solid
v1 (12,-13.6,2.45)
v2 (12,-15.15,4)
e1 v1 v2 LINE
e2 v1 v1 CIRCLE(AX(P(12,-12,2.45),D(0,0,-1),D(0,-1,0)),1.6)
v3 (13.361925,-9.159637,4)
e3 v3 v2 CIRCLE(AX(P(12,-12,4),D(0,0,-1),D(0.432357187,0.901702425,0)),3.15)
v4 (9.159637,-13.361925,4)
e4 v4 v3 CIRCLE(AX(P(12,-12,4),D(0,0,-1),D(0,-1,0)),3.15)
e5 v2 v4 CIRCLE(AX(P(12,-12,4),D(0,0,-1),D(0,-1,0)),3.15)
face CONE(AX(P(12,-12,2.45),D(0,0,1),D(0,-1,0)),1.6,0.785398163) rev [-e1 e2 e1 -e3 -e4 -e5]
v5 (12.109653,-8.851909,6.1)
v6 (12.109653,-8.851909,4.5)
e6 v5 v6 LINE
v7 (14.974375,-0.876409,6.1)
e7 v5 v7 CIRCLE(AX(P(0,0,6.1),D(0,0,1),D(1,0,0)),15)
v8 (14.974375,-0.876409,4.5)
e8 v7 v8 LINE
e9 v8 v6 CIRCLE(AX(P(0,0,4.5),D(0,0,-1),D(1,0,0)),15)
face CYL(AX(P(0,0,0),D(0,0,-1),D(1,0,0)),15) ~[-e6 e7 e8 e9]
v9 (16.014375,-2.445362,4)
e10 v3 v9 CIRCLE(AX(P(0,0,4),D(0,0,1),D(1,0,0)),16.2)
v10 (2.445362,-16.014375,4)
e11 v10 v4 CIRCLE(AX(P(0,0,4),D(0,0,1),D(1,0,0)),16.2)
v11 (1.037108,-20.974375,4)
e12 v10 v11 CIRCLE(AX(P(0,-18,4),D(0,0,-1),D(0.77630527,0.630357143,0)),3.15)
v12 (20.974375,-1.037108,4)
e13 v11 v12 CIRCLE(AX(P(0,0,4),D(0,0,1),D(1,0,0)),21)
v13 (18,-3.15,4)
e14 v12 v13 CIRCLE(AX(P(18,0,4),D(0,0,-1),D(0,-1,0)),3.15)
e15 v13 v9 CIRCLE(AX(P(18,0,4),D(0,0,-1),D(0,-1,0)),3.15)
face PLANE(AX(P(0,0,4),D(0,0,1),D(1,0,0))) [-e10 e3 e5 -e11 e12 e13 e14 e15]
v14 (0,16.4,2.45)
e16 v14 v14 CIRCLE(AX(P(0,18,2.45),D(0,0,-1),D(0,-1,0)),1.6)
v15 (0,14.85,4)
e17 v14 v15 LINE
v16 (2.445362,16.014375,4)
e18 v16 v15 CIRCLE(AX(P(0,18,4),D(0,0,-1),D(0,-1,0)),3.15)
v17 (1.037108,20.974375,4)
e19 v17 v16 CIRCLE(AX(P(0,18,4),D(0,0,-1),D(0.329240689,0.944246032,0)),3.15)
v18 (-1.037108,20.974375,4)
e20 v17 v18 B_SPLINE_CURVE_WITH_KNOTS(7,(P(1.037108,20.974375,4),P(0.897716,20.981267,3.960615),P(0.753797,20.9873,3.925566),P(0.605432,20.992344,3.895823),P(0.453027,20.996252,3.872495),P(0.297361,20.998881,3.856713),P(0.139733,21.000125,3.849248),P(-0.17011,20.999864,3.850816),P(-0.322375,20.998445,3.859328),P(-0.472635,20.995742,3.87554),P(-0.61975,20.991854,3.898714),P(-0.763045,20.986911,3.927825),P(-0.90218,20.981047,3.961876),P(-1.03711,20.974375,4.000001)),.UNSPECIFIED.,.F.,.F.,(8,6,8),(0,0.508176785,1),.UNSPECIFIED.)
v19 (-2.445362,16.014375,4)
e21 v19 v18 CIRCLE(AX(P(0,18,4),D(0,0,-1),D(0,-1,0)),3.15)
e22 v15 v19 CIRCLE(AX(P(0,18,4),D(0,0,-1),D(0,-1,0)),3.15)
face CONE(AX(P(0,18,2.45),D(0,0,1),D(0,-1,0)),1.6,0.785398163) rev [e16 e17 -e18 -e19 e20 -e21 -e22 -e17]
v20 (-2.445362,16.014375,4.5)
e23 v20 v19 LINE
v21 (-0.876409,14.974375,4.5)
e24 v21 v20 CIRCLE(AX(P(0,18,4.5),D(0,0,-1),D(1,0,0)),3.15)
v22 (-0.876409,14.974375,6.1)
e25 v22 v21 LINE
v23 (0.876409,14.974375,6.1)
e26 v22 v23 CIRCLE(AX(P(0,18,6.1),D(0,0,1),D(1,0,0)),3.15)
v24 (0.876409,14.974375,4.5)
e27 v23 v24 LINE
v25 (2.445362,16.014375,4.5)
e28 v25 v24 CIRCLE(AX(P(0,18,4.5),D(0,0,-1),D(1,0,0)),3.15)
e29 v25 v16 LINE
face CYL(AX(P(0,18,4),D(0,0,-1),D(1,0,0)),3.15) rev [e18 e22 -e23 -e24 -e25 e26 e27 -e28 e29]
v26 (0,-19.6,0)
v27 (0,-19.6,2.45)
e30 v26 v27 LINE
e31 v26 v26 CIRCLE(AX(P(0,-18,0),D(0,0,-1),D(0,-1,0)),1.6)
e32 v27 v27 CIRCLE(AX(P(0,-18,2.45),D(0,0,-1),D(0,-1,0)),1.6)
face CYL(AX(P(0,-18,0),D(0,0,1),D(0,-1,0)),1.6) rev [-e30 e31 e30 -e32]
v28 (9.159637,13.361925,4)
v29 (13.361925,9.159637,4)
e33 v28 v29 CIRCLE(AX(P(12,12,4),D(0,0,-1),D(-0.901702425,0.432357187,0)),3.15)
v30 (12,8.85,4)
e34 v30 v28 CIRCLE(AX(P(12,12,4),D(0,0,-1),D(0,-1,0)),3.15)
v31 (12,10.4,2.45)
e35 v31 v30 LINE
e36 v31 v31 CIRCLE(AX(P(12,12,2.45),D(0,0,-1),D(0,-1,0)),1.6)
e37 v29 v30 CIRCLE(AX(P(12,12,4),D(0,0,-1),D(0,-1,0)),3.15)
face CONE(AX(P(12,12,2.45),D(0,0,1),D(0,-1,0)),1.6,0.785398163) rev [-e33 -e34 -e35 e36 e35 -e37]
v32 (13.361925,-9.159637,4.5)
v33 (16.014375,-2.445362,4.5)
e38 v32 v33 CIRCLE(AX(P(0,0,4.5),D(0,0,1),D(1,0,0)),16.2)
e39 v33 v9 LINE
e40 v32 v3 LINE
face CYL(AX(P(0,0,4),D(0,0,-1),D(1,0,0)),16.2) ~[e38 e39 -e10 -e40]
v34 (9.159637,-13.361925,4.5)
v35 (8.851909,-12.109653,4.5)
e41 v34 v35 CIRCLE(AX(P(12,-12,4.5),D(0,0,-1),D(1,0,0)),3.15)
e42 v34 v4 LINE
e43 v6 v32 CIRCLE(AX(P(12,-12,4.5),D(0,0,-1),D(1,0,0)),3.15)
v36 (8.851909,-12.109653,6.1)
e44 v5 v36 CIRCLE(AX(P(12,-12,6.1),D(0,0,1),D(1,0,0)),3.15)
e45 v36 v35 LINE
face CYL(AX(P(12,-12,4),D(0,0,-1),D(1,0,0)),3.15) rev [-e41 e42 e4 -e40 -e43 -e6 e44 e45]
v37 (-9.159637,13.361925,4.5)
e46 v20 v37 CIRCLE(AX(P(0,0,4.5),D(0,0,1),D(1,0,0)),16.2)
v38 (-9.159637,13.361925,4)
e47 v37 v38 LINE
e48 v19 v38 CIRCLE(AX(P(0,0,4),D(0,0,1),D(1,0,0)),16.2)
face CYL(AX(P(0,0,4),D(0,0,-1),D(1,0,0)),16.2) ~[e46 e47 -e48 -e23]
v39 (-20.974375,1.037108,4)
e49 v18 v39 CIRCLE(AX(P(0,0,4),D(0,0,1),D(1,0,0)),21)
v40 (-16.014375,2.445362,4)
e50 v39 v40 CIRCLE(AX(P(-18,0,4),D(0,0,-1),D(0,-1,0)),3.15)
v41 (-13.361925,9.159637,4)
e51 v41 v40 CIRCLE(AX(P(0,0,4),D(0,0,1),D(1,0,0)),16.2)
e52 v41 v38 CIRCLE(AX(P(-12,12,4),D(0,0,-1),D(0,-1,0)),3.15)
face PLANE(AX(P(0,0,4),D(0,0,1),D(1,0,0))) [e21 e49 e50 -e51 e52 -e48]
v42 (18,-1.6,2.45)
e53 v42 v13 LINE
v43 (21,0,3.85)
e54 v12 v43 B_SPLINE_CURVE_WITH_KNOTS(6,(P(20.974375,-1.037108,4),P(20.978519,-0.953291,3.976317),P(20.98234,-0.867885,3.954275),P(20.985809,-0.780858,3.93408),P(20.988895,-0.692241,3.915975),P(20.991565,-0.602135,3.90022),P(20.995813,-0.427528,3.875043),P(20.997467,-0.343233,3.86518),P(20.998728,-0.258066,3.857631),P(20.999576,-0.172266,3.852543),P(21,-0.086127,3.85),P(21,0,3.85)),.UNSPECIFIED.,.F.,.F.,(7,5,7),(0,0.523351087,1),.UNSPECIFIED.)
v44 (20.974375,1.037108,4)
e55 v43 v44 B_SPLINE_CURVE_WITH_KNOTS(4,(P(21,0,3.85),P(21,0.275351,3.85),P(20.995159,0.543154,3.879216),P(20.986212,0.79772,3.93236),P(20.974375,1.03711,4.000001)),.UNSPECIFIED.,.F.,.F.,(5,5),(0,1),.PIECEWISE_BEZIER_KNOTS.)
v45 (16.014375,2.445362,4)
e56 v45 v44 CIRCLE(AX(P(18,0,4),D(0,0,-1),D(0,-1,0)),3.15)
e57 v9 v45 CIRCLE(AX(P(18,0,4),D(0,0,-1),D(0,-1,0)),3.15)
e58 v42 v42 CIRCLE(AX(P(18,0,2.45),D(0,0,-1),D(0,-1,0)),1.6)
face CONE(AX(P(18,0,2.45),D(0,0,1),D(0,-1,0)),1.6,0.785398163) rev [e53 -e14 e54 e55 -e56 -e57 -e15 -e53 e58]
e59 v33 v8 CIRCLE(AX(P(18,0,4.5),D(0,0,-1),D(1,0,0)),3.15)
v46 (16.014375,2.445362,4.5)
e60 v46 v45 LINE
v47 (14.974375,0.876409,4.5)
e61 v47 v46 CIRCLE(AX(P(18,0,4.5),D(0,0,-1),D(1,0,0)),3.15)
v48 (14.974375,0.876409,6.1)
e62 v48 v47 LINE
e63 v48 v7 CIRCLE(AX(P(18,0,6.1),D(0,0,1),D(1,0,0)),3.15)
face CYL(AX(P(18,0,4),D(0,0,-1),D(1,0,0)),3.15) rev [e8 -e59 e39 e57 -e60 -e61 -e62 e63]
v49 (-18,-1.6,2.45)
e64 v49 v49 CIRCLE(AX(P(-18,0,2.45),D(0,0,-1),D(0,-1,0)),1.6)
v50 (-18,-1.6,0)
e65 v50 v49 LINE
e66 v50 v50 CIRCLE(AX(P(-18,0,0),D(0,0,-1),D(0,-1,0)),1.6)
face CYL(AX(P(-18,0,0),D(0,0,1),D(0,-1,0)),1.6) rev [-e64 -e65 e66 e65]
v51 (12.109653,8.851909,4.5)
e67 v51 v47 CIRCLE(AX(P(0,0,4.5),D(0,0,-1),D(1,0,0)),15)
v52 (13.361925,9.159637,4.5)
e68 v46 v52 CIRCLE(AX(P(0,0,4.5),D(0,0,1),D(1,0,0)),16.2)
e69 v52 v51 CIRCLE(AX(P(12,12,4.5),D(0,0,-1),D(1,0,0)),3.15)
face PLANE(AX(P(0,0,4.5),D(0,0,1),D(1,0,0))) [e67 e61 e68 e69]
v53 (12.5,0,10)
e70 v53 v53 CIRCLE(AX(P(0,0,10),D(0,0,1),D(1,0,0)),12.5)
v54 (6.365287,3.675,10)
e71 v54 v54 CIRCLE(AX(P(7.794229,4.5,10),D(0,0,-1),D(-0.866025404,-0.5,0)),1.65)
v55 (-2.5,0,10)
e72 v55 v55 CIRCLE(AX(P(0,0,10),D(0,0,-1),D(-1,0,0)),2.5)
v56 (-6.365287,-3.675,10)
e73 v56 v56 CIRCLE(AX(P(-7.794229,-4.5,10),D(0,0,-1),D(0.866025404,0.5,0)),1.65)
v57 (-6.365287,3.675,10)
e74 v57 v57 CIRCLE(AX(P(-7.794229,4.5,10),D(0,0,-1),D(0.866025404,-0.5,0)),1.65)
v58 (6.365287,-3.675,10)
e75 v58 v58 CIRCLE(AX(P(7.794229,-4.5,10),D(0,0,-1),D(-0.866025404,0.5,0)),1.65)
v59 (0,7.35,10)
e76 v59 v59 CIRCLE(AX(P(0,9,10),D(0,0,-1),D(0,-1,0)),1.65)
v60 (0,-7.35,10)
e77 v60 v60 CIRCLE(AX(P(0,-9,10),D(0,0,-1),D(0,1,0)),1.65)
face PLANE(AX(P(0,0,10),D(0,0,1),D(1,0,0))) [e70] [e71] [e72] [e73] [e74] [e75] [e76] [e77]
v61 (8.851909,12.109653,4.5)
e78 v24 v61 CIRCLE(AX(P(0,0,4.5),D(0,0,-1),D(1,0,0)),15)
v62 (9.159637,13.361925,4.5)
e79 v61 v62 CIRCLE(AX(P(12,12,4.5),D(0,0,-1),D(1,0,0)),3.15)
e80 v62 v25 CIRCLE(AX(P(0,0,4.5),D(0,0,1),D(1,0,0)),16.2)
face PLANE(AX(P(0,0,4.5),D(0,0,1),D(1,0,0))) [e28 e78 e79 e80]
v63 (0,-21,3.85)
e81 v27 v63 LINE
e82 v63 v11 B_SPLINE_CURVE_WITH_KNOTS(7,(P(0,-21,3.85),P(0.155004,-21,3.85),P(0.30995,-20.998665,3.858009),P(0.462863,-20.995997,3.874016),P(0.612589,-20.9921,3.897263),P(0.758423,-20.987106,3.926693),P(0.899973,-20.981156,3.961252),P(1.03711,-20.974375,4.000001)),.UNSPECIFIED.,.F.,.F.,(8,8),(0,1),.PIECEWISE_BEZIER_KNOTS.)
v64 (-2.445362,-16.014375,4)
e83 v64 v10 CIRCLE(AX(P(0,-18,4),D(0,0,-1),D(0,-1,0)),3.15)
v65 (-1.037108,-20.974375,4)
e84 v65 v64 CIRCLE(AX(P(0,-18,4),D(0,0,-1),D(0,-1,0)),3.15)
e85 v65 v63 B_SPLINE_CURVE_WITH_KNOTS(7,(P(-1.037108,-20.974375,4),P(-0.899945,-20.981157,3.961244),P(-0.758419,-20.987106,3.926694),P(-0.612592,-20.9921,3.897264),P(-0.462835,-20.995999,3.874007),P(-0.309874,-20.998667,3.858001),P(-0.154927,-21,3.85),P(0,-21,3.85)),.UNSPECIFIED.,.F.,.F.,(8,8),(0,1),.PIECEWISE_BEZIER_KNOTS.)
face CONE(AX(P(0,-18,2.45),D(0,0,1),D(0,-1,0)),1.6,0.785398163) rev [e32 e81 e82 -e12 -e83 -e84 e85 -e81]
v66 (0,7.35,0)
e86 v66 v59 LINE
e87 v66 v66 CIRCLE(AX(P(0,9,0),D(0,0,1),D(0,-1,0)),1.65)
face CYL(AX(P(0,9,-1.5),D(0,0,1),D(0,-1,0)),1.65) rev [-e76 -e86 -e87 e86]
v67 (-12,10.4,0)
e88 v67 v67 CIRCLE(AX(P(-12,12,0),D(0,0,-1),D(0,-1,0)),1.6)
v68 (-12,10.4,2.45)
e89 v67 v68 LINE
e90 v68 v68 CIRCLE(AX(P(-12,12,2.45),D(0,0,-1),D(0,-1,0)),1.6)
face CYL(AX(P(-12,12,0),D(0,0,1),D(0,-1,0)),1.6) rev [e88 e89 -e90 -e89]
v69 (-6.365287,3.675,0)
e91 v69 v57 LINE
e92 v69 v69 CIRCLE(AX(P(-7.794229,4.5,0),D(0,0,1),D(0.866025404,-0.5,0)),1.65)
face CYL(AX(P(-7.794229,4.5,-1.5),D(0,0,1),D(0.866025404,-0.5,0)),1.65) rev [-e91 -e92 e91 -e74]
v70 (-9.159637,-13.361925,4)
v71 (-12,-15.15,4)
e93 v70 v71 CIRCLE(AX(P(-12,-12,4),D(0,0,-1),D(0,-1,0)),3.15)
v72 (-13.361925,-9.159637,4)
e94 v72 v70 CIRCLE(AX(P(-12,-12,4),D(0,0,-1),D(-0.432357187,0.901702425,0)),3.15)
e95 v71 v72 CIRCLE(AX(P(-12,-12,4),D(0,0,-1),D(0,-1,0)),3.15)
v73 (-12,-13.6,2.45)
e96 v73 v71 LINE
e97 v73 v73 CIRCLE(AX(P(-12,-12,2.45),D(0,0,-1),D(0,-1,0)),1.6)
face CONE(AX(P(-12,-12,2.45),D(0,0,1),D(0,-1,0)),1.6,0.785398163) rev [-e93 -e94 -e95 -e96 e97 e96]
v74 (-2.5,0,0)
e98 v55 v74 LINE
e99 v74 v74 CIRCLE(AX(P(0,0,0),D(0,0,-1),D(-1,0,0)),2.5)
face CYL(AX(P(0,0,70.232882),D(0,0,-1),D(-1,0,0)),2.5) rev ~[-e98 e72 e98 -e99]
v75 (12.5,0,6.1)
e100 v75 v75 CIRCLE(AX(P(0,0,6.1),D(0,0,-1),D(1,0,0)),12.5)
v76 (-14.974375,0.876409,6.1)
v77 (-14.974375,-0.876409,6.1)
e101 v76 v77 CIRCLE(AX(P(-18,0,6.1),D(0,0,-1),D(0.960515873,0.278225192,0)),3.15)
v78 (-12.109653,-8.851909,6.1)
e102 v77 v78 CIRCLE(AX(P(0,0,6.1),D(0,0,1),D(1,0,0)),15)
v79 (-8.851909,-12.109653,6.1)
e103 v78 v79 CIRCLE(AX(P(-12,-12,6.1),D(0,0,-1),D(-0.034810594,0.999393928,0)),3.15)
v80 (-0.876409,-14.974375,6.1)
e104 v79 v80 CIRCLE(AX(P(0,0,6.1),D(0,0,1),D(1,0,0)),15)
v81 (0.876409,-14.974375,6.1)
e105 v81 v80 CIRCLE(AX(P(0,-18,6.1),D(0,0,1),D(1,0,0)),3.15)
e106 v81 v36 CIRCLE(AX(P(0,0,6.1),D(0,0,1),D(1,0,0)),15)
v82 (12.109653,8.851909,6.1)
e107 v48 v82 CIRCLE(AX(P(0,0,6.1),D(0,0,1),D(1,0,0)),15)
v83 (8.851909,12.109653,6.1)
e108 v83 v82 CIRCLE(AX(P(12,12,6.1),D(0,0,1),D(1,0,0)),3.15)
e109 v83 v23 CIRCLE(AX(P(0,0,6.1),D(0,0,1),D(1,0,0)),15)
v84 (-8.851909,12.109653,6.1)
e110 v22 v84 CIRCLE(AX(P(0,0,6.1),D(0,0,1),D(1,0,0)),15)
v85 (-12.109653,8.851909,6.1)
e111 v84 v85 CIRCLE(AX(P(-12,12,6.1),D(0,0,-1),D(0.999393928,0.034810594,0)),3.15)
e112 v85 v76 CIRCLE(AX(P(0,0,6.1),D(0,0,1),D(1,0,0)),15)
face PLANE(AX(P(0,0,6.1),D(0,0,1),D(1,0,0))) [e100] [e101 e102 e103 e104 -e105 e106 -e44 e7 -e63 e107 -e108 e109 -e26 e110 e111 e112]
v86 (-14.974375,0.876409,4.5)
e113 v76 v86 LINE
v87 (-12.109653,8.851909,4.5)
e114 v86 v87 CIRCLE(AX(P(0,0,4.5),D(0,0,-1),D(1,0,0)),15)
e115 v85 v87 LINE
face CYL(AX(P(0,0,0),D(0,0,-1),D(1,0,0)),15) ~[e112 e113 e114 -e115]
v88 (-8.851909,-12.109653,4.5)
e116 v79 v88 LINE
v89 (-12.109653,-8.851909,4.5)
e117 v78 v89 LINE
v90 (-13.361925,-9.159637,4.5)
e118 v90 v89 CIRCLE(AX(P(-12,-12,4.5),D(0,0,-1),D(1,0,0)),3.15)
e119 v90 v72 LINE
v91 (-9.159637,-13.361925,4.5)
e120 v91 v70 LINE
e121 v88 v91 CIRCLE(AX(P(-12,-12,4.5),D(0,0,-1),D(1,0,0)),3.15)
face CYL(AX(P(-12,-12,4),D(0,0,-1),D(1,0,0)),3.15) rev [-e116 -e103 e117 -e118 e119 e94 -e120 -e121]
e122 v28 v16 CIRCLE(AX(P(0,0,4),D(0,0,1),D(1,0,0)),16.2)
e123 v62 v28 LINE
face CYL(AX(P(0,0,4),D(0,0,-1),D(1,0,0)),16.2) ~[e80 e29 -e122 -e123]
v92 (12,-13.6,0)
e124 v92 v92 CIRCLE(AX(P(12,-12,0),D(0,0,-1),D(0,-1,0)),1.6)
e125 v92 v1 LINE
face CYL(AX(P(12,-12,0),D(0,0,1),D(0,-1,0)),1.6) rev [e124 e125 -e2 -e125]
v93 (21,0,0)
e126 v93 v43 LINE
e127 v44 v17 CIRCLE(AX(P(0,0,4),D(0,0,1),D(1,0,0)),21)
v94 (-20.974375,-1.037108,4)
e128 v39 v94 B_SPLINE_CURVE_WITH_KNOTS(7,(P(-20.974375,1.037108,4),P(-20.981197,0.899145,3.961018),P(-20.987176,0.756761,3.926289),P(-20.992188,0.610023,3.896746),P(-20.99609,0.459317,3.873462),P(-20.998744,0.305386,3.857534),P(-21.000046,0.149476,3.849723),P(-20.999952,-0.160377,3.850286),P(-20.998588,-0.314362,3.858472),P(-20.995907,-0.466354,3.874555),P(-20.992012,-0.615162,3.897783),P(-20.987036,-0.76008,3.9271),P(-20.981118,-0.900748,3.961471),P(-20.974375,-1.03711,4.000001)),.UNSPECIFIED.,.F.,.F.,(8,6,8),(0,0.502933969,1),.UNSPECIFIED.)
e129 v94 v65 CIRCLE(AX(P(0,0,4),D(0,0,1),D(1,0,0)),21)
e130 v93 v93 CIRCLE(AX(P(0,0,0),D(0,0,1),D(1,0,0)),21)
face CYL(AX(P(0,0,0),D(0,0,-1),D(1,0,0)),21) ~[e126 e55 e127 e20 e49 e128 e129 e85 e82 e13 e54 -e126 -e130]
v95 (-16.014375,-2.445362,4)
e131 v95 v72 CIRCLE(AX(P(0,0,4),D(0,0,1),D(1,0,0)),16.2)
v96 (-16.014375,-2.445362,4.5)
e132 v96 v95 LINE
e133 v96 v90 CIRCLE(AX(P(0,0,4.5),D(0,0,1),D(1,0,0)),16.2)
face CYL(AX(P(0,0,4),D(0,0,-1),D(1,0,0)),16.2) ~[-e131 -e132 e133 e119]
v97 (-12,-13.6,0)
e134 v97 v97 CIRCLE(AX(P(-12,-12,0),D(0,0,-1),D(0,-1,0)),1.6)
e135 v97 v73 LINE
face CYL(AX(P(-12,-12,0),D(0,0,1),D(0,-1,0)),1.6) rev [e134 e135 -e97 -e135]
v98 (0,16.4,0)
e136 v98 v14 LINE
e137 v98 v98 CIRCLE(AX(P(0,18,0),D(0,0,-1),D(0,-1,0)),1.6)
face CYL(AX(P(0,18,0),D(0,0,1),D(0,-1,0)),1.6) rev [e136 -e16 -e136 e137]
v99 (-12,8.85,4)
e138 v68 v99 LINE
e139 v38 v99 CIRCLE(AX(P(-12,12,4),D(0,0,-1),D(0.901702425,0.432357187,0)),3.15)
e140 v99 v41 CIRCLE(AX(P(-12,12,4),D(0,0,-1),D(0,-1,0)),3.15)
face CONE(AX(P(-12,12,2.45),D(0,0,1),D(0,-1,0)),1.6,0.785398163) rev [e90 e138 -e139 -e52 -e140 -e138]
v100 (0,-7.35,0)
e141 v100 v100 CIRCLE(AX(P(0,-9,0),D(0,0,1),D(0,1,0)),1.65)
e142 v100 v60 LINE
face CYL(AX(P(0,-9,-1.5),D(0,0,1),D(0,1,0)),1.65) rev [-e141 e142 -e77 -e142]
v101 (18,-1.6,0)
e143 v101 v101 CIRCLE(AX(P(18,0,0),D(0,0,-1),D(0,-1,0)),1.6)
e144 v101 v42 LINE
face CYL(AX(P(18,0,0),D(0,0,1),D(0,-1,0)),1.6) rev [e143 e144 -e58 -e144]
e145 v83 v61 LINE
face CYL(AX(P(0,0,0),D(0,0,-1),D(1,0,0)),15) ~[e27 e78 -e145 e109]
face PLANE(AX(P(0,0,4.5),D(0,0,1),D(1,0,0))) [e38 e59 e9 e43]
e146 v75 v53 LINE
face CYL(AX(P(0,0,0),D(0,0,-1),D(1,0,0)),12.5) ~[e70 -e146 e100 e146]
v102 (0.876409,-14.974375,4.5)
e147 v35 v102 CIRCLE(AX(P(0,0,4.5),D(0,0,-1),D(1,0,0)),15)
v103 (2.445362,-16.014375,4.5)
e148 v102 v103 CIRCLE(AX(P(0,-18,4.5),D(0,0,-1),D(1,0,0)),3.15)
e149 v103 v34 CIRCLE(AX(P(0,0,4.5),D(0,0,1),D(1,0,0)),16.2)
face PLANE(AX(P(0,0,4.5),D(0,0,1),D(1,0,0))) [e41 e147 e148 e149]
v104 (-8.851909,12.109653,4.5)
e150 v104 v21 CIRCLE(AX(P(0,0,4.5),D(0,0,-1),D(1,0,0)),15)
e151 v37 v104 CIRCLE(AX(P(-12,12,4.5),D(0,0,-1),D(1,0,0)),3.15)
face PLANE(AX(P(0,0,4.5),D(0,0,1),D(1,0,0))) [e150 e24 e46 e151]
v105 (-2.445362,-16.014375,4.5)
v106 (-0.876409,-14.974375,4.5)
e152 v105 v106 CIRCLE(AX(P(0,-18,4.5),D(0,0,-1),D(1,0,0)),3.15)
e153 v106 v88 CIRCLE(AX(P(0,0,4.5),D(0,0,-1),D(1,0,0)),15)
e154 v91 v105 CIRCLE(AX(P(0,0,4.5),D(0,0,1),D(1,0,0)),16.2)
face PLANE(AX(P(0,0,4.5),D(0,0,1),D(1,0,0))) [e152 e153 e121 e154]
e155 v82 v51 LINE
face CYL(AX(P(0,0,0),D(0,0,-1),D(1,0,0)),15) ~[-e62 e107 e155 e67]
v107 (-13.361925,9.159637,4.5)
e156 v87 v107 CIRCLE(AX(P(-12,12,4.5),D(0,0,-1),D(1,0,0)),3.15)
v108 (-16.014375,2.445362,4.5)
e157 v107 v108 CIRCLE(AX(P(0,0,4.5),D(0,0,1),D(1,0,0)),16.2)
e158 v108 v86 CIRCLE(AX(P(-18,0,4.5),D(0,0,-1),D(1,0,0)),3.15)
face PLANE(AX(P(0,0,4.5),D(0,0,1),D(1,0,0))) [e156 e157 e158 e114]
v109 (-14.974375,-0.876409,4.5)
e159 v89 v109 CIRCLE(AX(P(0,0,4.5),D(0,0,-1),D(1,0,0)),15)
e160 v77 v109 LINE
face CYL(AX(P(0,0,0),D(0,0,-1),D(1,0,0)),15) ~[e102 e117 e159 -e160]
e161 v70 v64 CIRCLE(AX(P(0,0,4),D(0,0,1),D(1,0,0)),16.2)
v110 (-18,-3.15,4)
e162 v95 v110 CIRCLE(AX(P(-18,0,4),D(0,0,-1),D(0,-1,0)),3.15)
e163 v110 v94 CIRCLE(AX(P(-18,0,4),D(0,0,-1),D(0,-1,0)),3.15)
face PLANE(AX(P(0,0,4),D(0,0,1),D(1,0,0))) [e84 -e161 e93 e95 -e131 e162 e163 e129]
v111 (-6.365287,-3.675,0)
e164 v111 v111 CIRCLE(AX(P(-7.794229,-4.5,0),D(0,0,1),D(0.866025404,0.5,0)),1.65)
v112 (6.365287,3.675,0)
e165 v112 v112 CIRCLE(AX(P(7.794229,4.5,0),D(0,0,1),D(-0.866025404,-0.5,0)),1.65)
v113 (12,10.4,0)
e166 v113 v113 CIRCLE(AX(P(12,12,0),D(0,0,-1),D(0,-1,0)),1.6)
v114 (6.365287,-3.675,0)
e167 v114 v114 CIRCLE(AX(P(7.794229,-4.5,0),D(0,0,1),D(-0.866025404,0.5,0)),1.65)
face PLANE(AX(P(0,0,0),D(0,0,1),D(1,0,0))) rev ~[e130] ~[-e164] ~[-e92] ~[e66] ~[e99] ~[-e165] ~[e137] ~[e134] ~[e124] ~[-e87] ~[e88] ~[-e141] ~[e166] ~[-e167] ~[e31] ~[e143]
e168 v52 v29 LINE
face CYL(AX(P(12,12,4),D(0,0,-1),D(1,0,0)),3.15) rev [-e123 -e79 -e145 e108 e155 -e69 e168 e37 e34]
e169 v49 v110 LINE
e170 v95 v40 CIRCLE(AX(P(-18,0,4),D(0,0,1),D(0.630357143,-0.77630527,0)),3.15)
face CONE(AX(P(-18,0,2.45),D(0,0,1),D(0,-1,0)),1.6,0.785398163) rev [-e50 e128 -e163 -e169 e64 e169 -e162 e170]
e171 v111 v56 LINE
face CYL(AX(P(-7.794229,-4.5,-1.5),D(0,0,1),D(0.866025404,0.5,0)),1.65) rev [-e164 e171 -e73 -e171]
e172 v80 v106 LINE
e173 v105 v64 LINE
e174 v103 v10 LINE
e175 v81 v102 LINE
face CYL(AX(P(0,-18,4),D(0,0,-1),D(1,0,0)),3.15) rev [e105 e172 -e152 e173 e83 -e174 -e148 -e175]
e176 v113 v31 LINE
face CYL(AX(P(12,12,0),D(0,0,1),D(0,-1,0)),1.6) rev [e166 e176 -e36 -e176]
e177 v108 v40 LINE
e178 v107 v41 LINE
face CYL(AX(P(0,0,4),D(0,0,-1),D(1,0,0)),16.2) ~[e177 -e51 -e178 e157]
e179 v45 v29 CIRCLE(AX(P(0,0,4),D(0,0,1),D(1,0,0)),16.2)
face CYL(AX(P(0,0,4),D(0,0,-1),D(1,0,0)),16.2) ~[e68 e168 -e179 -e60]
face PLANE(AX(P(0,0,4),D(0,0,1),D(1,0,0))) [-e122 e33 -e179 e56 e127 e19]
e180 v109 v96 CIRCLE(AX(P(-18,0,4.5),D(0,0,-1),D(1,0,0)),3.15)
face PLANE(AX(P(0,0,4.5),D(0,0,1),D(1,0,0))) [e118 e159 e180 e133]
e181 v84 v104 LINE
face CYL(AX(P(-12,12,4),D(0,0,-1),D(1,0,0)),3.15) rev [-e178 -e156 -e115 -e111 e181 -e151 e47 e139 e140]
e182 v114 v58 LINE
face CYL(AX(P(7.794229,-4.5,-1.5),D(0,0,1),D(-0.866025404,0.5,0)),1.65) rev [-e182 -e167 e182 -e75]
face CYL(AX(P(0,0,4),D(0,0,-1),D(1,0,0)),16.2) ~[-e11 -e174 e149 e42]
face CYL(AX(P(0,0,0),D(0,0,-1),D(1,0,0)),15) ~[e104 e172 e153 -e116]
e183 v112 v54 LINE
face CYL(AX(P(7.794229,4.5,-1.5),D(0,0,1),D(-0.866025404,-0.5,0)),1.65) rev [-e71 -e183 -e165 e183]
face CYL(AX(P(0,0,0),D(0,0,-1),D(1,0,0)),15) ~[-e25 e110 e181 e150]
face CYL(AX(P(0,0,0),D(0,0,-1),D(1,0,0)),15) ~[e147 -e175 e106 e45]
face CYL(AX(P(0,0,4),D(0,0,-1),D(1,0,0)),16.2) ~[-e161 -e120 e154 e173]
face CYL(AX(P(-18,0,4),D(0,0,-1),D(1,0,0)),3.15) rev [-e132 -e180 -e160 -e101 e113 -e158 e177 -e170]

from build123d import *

# Parameters (mm, degrees)
SKETCH_1_R                  = 15
EXTRUDE_1_DEPTH             = 6.1
SKETCH_1_3_R                = 12.5
EXTRUDE_2_DEPTH             = 10
SKETCH_1_4_R                = 21
EXTRUDE_3_DEPTH             = 4
EXTRUDE_START               = 4
SKETCH_1_6_R                = 16.2
EXTRUDE_4_DEPTH             = 0.5
HOLE_WIZARD_M3_1_AT_2_COUNT = 2
HOLE_WIZARD_M3_1_AT_2_PITCH = 25.455844123
HOLE_WIZARD_M3_1_AT_3_COUNT = 2
HOLE_WIZARD_M3_1_AT_3_PITCH = 36
HOLE_WIZARD_M3_1_AT_4_COUNT = 2
HOLE_WIZARD_M3_1_AT_4_PITCH = 25.455844123
HOLE_WIZARD_M3_2_AT_2_COUNT = 2
HOLE_WIZARD_M3_2_AT_2_PITCH = 24
HOLE_WIZARD_M3_2_AT_3_COUNT = 2
HOLE_WIZARD_M3_2_AT_3_PITCH = 24
HOLE_WIZARD_M3_2_AT_4_COUNT = 2
HOLE_WIZARD_M3_2_AT_4_PITCH = 33.941125497
M5X0_8_1_D                  = 5
PATTERN_CIRCULAR_1_COUNT    = 6
CUT_EXTRUDE_START           = 4
SKETCH_5_R                  = 3.15
CUT_EXTRUDE_3_DEPTH         = 2.1


with BuildPart() as part:
    # ｽｹｯﾁ1 → ﾎﾞｽ - 押し出し1 (new body)
    with BuildSketch(Plane.XY):
        Circle(SKETCH_1_R)
    extrude(amount=EXTRUDE_1_DEPTH)

    # ｽｹｯﾁ1<3> → ﾎﾞｽ - 押し出し2 (add)
    with BuildSketch(Plane.XY):
        Circle(SKETCH_1_3_R)
    extrude(amount=EXTRUDE_2_DEPTH)

    # ｽｹｯﾁ1<4> → ﾎﾞｽ - 押し出し3 (add)
    with BuildSketch(Plane.XY):
        Circle(SKETCH_1_4_R)
    extrude(amount=EXTRUDE_3_DEPTH)

    # ｽｹｯﾁ1<6> → ﾎﾞｽ - 押し出し4 (add)
    with BuildSketch(Plane.XY.offset(EXTRUDE_START)):
        Circle(SKETCH_1_6_R)
    extrude(amount=EXTRUDE_4_DEPTH)

    # ｽｹｯﾁ2 → M3 丸皿ねじ用皿穴1 (revolve, cut)
    with BuildSketch(Plane(origin=(0, 18, 4), x_dir=(0, -1, 0), z_dir=(1, 0, 0))):
        Polygon((0, 0), (0, 4), (1.6, 4), (1.6, 1.55), (3.15, 0), align=None)
    hole_wizard_m3_1 = revolve(axis=Axis((0, 18, 10.35), (0, 0, -1)), mode=Mode.SUBTRACT)

    # M3 丸皿ねじ用皿穴1 at 2: M3 丸皿ねじ用皿穴1 ×2
    with Locations(*[Vector(-0.7071067811865476, -0.7071067811865476, 0) * (i * HOLE_WIZARD_M3_1_AT_2_PITCH) for i in range(1, HOLE_WIZARD_M3_1_AT_2_COUNT)]):
        add(hole_wizard_m3_1, mode=Mode.SUBTRACT)

    # M3 丸皿ねじ用皿穴1 at 3: M3 丸皿ねじ用皿穴1 ×2
    with Locations(*[(0, -i * HOLE_WIZARD_M3_1_AT_3_PITCH, 0) for i in range(1, HOLE_WIZARD_M3_1_AT_3_COUNT)]):
        add(hole_wizard_m3_1, mode=Mode.SUBTRACT)

    # M3 丸皿ねじ用皿穴1 at 4: M3 丸皿ねじ用皿穴1 ×2
    with Locations(*[Vector(0.7071067811865415, -0.7071067811865536, 0) * (i * HOLE_WIZARD_M3_1_AT_4_PITCH) for i in range(1, HOLE_WIZARD_M3_1_AT_4_COUNT)]):
        add(hole_wizard_m3_1, mode=Mode.SUBTRACT)

    # ｽｹｯﾁ8 → M3 丸皿ねじ用皿穴2 (revolve, cut)
    with BuildSketch(Plane(origin=(-12, 12, 4), x_dir=(0, -1, 0), z_dir=(1, 0, 0))):
        Polygon((0, 0), (0, 4), (1.6, 4), (1.6, 1.55), (3.15, 0), align=None)
    hole_wizard_m3_2 = revolve(axis=Axis((-12, 12, 10.35), (0, 0, -1)), mode=Mode.SUBTRACT)

    # M3 丸皿ねじ用皿穴2 at 2: M3 丸皿ねじ用皿穴2 ×2
    with Locations(*[(i * HOLE_WIZARD_M3_2_AT_2_PITCH, 0, 0) for i in range(1, HOLE_WIZARD_M3_2_AT_2_COUNT)]):
        add(hole_wizard_m3_2, mode=Mode.SUBTRACT)

    # M3 丸皿ねじ用皿穴2 at 3: M3 丸皿ねじ用皿穴2 ×2
    with Locations(*[(0, -i * HOLE_WIZARD_M3_2_AT_3_PITCH, 0) for i in range(1, HOLE_WIZARD_M3_2_AT_3_COUNT)]):
        add(hole_wizard_m3_2, mode=Mode.SUBTRACT)

    # M3 丸皿ねじ用皿穴2 at 4: M3 丸皿ねじ用皿穴2 ×2
    with Locations(*[Vector(0.7071067811865476, -0.7071067811865476, 0) * (i * HOLE_WIZARD_M3_2_AT_4_PITCH) for i in range(1, HOLE_WIZARD_M3_2_AT_4_COUNT)]):
        add(hole_wizard_m3_2, mode=Mode.SUBTRACT)

    # M5x0.8 ねじ穴1 (through all)
    with Locations(Plane.XY.offset(10)):
        with Locations((0, 0)):
            Hole(M5X0_8_1_D / 2)

    # ｽｹｯﾁ3 → M4x0.7 ねじ穴1 (revolve, cut)
    with BuildSketch(Plane(origin=(0, 9, 10), x_dir=(0, -1, 0), z_dir=(1, 0, 0))):
        Polygon((0, 0), (0, 12.491420021), (1.65, 11.5), (1.65, 0), align=None)
    m4x0_7_1 = revolve(axis=Axis((0, 9, 16.35), (0, 0, -1)), mode=Mode.SUBTRACT)

    # 円形ﾊﾟﾀｰﾝ1: M4x0.7 ねじ穴1 ×6 about axis
    pattern_circular_1_axis = Axis((0, 0, 0), (0, 0, 1))
    for i in range(1, PATTERN_CIRCULAR_1_COUNT):
        add(m4x0_7_1.rotate(pattern_circular_1_axis, i * 360 / PATTERN_CIRCULAR_1_COUNT), mode=Mode.SUBTRACT)

    # ｽｹｯﾁ5 → ｶｯﾄ - 押し出し3 (cut)
    with BuildSketch(Plane.XY.offset(CUT_EXTRUDE_START)):
        with Locations((0, 18)):
            Circle(SKETCH_5_R)
        with Locations((12, -12)):
            Circle(SKETCH_5_R)
        with Locations((18, 0)):
            Circle(SKETCH_5_R)
        with Locations((0, -18)):
            Circle(SKETCH_5_R)
        with Locations((-18, 0)):
            Circle(SKETCH_5_R)
        with Locations((-12, -12)):
            Circle(SKETCH_5_R)
        with Locations((12, 12)):
            Circle(SKETCH_5_R)
        with Locations((-12, 12)):
            Circle(SKETCH_5_R)
    extrude(amount=CUT_EXTRUDE_3_DEPTH, mode=Mode.SUBTRACT)


solid = part.part
